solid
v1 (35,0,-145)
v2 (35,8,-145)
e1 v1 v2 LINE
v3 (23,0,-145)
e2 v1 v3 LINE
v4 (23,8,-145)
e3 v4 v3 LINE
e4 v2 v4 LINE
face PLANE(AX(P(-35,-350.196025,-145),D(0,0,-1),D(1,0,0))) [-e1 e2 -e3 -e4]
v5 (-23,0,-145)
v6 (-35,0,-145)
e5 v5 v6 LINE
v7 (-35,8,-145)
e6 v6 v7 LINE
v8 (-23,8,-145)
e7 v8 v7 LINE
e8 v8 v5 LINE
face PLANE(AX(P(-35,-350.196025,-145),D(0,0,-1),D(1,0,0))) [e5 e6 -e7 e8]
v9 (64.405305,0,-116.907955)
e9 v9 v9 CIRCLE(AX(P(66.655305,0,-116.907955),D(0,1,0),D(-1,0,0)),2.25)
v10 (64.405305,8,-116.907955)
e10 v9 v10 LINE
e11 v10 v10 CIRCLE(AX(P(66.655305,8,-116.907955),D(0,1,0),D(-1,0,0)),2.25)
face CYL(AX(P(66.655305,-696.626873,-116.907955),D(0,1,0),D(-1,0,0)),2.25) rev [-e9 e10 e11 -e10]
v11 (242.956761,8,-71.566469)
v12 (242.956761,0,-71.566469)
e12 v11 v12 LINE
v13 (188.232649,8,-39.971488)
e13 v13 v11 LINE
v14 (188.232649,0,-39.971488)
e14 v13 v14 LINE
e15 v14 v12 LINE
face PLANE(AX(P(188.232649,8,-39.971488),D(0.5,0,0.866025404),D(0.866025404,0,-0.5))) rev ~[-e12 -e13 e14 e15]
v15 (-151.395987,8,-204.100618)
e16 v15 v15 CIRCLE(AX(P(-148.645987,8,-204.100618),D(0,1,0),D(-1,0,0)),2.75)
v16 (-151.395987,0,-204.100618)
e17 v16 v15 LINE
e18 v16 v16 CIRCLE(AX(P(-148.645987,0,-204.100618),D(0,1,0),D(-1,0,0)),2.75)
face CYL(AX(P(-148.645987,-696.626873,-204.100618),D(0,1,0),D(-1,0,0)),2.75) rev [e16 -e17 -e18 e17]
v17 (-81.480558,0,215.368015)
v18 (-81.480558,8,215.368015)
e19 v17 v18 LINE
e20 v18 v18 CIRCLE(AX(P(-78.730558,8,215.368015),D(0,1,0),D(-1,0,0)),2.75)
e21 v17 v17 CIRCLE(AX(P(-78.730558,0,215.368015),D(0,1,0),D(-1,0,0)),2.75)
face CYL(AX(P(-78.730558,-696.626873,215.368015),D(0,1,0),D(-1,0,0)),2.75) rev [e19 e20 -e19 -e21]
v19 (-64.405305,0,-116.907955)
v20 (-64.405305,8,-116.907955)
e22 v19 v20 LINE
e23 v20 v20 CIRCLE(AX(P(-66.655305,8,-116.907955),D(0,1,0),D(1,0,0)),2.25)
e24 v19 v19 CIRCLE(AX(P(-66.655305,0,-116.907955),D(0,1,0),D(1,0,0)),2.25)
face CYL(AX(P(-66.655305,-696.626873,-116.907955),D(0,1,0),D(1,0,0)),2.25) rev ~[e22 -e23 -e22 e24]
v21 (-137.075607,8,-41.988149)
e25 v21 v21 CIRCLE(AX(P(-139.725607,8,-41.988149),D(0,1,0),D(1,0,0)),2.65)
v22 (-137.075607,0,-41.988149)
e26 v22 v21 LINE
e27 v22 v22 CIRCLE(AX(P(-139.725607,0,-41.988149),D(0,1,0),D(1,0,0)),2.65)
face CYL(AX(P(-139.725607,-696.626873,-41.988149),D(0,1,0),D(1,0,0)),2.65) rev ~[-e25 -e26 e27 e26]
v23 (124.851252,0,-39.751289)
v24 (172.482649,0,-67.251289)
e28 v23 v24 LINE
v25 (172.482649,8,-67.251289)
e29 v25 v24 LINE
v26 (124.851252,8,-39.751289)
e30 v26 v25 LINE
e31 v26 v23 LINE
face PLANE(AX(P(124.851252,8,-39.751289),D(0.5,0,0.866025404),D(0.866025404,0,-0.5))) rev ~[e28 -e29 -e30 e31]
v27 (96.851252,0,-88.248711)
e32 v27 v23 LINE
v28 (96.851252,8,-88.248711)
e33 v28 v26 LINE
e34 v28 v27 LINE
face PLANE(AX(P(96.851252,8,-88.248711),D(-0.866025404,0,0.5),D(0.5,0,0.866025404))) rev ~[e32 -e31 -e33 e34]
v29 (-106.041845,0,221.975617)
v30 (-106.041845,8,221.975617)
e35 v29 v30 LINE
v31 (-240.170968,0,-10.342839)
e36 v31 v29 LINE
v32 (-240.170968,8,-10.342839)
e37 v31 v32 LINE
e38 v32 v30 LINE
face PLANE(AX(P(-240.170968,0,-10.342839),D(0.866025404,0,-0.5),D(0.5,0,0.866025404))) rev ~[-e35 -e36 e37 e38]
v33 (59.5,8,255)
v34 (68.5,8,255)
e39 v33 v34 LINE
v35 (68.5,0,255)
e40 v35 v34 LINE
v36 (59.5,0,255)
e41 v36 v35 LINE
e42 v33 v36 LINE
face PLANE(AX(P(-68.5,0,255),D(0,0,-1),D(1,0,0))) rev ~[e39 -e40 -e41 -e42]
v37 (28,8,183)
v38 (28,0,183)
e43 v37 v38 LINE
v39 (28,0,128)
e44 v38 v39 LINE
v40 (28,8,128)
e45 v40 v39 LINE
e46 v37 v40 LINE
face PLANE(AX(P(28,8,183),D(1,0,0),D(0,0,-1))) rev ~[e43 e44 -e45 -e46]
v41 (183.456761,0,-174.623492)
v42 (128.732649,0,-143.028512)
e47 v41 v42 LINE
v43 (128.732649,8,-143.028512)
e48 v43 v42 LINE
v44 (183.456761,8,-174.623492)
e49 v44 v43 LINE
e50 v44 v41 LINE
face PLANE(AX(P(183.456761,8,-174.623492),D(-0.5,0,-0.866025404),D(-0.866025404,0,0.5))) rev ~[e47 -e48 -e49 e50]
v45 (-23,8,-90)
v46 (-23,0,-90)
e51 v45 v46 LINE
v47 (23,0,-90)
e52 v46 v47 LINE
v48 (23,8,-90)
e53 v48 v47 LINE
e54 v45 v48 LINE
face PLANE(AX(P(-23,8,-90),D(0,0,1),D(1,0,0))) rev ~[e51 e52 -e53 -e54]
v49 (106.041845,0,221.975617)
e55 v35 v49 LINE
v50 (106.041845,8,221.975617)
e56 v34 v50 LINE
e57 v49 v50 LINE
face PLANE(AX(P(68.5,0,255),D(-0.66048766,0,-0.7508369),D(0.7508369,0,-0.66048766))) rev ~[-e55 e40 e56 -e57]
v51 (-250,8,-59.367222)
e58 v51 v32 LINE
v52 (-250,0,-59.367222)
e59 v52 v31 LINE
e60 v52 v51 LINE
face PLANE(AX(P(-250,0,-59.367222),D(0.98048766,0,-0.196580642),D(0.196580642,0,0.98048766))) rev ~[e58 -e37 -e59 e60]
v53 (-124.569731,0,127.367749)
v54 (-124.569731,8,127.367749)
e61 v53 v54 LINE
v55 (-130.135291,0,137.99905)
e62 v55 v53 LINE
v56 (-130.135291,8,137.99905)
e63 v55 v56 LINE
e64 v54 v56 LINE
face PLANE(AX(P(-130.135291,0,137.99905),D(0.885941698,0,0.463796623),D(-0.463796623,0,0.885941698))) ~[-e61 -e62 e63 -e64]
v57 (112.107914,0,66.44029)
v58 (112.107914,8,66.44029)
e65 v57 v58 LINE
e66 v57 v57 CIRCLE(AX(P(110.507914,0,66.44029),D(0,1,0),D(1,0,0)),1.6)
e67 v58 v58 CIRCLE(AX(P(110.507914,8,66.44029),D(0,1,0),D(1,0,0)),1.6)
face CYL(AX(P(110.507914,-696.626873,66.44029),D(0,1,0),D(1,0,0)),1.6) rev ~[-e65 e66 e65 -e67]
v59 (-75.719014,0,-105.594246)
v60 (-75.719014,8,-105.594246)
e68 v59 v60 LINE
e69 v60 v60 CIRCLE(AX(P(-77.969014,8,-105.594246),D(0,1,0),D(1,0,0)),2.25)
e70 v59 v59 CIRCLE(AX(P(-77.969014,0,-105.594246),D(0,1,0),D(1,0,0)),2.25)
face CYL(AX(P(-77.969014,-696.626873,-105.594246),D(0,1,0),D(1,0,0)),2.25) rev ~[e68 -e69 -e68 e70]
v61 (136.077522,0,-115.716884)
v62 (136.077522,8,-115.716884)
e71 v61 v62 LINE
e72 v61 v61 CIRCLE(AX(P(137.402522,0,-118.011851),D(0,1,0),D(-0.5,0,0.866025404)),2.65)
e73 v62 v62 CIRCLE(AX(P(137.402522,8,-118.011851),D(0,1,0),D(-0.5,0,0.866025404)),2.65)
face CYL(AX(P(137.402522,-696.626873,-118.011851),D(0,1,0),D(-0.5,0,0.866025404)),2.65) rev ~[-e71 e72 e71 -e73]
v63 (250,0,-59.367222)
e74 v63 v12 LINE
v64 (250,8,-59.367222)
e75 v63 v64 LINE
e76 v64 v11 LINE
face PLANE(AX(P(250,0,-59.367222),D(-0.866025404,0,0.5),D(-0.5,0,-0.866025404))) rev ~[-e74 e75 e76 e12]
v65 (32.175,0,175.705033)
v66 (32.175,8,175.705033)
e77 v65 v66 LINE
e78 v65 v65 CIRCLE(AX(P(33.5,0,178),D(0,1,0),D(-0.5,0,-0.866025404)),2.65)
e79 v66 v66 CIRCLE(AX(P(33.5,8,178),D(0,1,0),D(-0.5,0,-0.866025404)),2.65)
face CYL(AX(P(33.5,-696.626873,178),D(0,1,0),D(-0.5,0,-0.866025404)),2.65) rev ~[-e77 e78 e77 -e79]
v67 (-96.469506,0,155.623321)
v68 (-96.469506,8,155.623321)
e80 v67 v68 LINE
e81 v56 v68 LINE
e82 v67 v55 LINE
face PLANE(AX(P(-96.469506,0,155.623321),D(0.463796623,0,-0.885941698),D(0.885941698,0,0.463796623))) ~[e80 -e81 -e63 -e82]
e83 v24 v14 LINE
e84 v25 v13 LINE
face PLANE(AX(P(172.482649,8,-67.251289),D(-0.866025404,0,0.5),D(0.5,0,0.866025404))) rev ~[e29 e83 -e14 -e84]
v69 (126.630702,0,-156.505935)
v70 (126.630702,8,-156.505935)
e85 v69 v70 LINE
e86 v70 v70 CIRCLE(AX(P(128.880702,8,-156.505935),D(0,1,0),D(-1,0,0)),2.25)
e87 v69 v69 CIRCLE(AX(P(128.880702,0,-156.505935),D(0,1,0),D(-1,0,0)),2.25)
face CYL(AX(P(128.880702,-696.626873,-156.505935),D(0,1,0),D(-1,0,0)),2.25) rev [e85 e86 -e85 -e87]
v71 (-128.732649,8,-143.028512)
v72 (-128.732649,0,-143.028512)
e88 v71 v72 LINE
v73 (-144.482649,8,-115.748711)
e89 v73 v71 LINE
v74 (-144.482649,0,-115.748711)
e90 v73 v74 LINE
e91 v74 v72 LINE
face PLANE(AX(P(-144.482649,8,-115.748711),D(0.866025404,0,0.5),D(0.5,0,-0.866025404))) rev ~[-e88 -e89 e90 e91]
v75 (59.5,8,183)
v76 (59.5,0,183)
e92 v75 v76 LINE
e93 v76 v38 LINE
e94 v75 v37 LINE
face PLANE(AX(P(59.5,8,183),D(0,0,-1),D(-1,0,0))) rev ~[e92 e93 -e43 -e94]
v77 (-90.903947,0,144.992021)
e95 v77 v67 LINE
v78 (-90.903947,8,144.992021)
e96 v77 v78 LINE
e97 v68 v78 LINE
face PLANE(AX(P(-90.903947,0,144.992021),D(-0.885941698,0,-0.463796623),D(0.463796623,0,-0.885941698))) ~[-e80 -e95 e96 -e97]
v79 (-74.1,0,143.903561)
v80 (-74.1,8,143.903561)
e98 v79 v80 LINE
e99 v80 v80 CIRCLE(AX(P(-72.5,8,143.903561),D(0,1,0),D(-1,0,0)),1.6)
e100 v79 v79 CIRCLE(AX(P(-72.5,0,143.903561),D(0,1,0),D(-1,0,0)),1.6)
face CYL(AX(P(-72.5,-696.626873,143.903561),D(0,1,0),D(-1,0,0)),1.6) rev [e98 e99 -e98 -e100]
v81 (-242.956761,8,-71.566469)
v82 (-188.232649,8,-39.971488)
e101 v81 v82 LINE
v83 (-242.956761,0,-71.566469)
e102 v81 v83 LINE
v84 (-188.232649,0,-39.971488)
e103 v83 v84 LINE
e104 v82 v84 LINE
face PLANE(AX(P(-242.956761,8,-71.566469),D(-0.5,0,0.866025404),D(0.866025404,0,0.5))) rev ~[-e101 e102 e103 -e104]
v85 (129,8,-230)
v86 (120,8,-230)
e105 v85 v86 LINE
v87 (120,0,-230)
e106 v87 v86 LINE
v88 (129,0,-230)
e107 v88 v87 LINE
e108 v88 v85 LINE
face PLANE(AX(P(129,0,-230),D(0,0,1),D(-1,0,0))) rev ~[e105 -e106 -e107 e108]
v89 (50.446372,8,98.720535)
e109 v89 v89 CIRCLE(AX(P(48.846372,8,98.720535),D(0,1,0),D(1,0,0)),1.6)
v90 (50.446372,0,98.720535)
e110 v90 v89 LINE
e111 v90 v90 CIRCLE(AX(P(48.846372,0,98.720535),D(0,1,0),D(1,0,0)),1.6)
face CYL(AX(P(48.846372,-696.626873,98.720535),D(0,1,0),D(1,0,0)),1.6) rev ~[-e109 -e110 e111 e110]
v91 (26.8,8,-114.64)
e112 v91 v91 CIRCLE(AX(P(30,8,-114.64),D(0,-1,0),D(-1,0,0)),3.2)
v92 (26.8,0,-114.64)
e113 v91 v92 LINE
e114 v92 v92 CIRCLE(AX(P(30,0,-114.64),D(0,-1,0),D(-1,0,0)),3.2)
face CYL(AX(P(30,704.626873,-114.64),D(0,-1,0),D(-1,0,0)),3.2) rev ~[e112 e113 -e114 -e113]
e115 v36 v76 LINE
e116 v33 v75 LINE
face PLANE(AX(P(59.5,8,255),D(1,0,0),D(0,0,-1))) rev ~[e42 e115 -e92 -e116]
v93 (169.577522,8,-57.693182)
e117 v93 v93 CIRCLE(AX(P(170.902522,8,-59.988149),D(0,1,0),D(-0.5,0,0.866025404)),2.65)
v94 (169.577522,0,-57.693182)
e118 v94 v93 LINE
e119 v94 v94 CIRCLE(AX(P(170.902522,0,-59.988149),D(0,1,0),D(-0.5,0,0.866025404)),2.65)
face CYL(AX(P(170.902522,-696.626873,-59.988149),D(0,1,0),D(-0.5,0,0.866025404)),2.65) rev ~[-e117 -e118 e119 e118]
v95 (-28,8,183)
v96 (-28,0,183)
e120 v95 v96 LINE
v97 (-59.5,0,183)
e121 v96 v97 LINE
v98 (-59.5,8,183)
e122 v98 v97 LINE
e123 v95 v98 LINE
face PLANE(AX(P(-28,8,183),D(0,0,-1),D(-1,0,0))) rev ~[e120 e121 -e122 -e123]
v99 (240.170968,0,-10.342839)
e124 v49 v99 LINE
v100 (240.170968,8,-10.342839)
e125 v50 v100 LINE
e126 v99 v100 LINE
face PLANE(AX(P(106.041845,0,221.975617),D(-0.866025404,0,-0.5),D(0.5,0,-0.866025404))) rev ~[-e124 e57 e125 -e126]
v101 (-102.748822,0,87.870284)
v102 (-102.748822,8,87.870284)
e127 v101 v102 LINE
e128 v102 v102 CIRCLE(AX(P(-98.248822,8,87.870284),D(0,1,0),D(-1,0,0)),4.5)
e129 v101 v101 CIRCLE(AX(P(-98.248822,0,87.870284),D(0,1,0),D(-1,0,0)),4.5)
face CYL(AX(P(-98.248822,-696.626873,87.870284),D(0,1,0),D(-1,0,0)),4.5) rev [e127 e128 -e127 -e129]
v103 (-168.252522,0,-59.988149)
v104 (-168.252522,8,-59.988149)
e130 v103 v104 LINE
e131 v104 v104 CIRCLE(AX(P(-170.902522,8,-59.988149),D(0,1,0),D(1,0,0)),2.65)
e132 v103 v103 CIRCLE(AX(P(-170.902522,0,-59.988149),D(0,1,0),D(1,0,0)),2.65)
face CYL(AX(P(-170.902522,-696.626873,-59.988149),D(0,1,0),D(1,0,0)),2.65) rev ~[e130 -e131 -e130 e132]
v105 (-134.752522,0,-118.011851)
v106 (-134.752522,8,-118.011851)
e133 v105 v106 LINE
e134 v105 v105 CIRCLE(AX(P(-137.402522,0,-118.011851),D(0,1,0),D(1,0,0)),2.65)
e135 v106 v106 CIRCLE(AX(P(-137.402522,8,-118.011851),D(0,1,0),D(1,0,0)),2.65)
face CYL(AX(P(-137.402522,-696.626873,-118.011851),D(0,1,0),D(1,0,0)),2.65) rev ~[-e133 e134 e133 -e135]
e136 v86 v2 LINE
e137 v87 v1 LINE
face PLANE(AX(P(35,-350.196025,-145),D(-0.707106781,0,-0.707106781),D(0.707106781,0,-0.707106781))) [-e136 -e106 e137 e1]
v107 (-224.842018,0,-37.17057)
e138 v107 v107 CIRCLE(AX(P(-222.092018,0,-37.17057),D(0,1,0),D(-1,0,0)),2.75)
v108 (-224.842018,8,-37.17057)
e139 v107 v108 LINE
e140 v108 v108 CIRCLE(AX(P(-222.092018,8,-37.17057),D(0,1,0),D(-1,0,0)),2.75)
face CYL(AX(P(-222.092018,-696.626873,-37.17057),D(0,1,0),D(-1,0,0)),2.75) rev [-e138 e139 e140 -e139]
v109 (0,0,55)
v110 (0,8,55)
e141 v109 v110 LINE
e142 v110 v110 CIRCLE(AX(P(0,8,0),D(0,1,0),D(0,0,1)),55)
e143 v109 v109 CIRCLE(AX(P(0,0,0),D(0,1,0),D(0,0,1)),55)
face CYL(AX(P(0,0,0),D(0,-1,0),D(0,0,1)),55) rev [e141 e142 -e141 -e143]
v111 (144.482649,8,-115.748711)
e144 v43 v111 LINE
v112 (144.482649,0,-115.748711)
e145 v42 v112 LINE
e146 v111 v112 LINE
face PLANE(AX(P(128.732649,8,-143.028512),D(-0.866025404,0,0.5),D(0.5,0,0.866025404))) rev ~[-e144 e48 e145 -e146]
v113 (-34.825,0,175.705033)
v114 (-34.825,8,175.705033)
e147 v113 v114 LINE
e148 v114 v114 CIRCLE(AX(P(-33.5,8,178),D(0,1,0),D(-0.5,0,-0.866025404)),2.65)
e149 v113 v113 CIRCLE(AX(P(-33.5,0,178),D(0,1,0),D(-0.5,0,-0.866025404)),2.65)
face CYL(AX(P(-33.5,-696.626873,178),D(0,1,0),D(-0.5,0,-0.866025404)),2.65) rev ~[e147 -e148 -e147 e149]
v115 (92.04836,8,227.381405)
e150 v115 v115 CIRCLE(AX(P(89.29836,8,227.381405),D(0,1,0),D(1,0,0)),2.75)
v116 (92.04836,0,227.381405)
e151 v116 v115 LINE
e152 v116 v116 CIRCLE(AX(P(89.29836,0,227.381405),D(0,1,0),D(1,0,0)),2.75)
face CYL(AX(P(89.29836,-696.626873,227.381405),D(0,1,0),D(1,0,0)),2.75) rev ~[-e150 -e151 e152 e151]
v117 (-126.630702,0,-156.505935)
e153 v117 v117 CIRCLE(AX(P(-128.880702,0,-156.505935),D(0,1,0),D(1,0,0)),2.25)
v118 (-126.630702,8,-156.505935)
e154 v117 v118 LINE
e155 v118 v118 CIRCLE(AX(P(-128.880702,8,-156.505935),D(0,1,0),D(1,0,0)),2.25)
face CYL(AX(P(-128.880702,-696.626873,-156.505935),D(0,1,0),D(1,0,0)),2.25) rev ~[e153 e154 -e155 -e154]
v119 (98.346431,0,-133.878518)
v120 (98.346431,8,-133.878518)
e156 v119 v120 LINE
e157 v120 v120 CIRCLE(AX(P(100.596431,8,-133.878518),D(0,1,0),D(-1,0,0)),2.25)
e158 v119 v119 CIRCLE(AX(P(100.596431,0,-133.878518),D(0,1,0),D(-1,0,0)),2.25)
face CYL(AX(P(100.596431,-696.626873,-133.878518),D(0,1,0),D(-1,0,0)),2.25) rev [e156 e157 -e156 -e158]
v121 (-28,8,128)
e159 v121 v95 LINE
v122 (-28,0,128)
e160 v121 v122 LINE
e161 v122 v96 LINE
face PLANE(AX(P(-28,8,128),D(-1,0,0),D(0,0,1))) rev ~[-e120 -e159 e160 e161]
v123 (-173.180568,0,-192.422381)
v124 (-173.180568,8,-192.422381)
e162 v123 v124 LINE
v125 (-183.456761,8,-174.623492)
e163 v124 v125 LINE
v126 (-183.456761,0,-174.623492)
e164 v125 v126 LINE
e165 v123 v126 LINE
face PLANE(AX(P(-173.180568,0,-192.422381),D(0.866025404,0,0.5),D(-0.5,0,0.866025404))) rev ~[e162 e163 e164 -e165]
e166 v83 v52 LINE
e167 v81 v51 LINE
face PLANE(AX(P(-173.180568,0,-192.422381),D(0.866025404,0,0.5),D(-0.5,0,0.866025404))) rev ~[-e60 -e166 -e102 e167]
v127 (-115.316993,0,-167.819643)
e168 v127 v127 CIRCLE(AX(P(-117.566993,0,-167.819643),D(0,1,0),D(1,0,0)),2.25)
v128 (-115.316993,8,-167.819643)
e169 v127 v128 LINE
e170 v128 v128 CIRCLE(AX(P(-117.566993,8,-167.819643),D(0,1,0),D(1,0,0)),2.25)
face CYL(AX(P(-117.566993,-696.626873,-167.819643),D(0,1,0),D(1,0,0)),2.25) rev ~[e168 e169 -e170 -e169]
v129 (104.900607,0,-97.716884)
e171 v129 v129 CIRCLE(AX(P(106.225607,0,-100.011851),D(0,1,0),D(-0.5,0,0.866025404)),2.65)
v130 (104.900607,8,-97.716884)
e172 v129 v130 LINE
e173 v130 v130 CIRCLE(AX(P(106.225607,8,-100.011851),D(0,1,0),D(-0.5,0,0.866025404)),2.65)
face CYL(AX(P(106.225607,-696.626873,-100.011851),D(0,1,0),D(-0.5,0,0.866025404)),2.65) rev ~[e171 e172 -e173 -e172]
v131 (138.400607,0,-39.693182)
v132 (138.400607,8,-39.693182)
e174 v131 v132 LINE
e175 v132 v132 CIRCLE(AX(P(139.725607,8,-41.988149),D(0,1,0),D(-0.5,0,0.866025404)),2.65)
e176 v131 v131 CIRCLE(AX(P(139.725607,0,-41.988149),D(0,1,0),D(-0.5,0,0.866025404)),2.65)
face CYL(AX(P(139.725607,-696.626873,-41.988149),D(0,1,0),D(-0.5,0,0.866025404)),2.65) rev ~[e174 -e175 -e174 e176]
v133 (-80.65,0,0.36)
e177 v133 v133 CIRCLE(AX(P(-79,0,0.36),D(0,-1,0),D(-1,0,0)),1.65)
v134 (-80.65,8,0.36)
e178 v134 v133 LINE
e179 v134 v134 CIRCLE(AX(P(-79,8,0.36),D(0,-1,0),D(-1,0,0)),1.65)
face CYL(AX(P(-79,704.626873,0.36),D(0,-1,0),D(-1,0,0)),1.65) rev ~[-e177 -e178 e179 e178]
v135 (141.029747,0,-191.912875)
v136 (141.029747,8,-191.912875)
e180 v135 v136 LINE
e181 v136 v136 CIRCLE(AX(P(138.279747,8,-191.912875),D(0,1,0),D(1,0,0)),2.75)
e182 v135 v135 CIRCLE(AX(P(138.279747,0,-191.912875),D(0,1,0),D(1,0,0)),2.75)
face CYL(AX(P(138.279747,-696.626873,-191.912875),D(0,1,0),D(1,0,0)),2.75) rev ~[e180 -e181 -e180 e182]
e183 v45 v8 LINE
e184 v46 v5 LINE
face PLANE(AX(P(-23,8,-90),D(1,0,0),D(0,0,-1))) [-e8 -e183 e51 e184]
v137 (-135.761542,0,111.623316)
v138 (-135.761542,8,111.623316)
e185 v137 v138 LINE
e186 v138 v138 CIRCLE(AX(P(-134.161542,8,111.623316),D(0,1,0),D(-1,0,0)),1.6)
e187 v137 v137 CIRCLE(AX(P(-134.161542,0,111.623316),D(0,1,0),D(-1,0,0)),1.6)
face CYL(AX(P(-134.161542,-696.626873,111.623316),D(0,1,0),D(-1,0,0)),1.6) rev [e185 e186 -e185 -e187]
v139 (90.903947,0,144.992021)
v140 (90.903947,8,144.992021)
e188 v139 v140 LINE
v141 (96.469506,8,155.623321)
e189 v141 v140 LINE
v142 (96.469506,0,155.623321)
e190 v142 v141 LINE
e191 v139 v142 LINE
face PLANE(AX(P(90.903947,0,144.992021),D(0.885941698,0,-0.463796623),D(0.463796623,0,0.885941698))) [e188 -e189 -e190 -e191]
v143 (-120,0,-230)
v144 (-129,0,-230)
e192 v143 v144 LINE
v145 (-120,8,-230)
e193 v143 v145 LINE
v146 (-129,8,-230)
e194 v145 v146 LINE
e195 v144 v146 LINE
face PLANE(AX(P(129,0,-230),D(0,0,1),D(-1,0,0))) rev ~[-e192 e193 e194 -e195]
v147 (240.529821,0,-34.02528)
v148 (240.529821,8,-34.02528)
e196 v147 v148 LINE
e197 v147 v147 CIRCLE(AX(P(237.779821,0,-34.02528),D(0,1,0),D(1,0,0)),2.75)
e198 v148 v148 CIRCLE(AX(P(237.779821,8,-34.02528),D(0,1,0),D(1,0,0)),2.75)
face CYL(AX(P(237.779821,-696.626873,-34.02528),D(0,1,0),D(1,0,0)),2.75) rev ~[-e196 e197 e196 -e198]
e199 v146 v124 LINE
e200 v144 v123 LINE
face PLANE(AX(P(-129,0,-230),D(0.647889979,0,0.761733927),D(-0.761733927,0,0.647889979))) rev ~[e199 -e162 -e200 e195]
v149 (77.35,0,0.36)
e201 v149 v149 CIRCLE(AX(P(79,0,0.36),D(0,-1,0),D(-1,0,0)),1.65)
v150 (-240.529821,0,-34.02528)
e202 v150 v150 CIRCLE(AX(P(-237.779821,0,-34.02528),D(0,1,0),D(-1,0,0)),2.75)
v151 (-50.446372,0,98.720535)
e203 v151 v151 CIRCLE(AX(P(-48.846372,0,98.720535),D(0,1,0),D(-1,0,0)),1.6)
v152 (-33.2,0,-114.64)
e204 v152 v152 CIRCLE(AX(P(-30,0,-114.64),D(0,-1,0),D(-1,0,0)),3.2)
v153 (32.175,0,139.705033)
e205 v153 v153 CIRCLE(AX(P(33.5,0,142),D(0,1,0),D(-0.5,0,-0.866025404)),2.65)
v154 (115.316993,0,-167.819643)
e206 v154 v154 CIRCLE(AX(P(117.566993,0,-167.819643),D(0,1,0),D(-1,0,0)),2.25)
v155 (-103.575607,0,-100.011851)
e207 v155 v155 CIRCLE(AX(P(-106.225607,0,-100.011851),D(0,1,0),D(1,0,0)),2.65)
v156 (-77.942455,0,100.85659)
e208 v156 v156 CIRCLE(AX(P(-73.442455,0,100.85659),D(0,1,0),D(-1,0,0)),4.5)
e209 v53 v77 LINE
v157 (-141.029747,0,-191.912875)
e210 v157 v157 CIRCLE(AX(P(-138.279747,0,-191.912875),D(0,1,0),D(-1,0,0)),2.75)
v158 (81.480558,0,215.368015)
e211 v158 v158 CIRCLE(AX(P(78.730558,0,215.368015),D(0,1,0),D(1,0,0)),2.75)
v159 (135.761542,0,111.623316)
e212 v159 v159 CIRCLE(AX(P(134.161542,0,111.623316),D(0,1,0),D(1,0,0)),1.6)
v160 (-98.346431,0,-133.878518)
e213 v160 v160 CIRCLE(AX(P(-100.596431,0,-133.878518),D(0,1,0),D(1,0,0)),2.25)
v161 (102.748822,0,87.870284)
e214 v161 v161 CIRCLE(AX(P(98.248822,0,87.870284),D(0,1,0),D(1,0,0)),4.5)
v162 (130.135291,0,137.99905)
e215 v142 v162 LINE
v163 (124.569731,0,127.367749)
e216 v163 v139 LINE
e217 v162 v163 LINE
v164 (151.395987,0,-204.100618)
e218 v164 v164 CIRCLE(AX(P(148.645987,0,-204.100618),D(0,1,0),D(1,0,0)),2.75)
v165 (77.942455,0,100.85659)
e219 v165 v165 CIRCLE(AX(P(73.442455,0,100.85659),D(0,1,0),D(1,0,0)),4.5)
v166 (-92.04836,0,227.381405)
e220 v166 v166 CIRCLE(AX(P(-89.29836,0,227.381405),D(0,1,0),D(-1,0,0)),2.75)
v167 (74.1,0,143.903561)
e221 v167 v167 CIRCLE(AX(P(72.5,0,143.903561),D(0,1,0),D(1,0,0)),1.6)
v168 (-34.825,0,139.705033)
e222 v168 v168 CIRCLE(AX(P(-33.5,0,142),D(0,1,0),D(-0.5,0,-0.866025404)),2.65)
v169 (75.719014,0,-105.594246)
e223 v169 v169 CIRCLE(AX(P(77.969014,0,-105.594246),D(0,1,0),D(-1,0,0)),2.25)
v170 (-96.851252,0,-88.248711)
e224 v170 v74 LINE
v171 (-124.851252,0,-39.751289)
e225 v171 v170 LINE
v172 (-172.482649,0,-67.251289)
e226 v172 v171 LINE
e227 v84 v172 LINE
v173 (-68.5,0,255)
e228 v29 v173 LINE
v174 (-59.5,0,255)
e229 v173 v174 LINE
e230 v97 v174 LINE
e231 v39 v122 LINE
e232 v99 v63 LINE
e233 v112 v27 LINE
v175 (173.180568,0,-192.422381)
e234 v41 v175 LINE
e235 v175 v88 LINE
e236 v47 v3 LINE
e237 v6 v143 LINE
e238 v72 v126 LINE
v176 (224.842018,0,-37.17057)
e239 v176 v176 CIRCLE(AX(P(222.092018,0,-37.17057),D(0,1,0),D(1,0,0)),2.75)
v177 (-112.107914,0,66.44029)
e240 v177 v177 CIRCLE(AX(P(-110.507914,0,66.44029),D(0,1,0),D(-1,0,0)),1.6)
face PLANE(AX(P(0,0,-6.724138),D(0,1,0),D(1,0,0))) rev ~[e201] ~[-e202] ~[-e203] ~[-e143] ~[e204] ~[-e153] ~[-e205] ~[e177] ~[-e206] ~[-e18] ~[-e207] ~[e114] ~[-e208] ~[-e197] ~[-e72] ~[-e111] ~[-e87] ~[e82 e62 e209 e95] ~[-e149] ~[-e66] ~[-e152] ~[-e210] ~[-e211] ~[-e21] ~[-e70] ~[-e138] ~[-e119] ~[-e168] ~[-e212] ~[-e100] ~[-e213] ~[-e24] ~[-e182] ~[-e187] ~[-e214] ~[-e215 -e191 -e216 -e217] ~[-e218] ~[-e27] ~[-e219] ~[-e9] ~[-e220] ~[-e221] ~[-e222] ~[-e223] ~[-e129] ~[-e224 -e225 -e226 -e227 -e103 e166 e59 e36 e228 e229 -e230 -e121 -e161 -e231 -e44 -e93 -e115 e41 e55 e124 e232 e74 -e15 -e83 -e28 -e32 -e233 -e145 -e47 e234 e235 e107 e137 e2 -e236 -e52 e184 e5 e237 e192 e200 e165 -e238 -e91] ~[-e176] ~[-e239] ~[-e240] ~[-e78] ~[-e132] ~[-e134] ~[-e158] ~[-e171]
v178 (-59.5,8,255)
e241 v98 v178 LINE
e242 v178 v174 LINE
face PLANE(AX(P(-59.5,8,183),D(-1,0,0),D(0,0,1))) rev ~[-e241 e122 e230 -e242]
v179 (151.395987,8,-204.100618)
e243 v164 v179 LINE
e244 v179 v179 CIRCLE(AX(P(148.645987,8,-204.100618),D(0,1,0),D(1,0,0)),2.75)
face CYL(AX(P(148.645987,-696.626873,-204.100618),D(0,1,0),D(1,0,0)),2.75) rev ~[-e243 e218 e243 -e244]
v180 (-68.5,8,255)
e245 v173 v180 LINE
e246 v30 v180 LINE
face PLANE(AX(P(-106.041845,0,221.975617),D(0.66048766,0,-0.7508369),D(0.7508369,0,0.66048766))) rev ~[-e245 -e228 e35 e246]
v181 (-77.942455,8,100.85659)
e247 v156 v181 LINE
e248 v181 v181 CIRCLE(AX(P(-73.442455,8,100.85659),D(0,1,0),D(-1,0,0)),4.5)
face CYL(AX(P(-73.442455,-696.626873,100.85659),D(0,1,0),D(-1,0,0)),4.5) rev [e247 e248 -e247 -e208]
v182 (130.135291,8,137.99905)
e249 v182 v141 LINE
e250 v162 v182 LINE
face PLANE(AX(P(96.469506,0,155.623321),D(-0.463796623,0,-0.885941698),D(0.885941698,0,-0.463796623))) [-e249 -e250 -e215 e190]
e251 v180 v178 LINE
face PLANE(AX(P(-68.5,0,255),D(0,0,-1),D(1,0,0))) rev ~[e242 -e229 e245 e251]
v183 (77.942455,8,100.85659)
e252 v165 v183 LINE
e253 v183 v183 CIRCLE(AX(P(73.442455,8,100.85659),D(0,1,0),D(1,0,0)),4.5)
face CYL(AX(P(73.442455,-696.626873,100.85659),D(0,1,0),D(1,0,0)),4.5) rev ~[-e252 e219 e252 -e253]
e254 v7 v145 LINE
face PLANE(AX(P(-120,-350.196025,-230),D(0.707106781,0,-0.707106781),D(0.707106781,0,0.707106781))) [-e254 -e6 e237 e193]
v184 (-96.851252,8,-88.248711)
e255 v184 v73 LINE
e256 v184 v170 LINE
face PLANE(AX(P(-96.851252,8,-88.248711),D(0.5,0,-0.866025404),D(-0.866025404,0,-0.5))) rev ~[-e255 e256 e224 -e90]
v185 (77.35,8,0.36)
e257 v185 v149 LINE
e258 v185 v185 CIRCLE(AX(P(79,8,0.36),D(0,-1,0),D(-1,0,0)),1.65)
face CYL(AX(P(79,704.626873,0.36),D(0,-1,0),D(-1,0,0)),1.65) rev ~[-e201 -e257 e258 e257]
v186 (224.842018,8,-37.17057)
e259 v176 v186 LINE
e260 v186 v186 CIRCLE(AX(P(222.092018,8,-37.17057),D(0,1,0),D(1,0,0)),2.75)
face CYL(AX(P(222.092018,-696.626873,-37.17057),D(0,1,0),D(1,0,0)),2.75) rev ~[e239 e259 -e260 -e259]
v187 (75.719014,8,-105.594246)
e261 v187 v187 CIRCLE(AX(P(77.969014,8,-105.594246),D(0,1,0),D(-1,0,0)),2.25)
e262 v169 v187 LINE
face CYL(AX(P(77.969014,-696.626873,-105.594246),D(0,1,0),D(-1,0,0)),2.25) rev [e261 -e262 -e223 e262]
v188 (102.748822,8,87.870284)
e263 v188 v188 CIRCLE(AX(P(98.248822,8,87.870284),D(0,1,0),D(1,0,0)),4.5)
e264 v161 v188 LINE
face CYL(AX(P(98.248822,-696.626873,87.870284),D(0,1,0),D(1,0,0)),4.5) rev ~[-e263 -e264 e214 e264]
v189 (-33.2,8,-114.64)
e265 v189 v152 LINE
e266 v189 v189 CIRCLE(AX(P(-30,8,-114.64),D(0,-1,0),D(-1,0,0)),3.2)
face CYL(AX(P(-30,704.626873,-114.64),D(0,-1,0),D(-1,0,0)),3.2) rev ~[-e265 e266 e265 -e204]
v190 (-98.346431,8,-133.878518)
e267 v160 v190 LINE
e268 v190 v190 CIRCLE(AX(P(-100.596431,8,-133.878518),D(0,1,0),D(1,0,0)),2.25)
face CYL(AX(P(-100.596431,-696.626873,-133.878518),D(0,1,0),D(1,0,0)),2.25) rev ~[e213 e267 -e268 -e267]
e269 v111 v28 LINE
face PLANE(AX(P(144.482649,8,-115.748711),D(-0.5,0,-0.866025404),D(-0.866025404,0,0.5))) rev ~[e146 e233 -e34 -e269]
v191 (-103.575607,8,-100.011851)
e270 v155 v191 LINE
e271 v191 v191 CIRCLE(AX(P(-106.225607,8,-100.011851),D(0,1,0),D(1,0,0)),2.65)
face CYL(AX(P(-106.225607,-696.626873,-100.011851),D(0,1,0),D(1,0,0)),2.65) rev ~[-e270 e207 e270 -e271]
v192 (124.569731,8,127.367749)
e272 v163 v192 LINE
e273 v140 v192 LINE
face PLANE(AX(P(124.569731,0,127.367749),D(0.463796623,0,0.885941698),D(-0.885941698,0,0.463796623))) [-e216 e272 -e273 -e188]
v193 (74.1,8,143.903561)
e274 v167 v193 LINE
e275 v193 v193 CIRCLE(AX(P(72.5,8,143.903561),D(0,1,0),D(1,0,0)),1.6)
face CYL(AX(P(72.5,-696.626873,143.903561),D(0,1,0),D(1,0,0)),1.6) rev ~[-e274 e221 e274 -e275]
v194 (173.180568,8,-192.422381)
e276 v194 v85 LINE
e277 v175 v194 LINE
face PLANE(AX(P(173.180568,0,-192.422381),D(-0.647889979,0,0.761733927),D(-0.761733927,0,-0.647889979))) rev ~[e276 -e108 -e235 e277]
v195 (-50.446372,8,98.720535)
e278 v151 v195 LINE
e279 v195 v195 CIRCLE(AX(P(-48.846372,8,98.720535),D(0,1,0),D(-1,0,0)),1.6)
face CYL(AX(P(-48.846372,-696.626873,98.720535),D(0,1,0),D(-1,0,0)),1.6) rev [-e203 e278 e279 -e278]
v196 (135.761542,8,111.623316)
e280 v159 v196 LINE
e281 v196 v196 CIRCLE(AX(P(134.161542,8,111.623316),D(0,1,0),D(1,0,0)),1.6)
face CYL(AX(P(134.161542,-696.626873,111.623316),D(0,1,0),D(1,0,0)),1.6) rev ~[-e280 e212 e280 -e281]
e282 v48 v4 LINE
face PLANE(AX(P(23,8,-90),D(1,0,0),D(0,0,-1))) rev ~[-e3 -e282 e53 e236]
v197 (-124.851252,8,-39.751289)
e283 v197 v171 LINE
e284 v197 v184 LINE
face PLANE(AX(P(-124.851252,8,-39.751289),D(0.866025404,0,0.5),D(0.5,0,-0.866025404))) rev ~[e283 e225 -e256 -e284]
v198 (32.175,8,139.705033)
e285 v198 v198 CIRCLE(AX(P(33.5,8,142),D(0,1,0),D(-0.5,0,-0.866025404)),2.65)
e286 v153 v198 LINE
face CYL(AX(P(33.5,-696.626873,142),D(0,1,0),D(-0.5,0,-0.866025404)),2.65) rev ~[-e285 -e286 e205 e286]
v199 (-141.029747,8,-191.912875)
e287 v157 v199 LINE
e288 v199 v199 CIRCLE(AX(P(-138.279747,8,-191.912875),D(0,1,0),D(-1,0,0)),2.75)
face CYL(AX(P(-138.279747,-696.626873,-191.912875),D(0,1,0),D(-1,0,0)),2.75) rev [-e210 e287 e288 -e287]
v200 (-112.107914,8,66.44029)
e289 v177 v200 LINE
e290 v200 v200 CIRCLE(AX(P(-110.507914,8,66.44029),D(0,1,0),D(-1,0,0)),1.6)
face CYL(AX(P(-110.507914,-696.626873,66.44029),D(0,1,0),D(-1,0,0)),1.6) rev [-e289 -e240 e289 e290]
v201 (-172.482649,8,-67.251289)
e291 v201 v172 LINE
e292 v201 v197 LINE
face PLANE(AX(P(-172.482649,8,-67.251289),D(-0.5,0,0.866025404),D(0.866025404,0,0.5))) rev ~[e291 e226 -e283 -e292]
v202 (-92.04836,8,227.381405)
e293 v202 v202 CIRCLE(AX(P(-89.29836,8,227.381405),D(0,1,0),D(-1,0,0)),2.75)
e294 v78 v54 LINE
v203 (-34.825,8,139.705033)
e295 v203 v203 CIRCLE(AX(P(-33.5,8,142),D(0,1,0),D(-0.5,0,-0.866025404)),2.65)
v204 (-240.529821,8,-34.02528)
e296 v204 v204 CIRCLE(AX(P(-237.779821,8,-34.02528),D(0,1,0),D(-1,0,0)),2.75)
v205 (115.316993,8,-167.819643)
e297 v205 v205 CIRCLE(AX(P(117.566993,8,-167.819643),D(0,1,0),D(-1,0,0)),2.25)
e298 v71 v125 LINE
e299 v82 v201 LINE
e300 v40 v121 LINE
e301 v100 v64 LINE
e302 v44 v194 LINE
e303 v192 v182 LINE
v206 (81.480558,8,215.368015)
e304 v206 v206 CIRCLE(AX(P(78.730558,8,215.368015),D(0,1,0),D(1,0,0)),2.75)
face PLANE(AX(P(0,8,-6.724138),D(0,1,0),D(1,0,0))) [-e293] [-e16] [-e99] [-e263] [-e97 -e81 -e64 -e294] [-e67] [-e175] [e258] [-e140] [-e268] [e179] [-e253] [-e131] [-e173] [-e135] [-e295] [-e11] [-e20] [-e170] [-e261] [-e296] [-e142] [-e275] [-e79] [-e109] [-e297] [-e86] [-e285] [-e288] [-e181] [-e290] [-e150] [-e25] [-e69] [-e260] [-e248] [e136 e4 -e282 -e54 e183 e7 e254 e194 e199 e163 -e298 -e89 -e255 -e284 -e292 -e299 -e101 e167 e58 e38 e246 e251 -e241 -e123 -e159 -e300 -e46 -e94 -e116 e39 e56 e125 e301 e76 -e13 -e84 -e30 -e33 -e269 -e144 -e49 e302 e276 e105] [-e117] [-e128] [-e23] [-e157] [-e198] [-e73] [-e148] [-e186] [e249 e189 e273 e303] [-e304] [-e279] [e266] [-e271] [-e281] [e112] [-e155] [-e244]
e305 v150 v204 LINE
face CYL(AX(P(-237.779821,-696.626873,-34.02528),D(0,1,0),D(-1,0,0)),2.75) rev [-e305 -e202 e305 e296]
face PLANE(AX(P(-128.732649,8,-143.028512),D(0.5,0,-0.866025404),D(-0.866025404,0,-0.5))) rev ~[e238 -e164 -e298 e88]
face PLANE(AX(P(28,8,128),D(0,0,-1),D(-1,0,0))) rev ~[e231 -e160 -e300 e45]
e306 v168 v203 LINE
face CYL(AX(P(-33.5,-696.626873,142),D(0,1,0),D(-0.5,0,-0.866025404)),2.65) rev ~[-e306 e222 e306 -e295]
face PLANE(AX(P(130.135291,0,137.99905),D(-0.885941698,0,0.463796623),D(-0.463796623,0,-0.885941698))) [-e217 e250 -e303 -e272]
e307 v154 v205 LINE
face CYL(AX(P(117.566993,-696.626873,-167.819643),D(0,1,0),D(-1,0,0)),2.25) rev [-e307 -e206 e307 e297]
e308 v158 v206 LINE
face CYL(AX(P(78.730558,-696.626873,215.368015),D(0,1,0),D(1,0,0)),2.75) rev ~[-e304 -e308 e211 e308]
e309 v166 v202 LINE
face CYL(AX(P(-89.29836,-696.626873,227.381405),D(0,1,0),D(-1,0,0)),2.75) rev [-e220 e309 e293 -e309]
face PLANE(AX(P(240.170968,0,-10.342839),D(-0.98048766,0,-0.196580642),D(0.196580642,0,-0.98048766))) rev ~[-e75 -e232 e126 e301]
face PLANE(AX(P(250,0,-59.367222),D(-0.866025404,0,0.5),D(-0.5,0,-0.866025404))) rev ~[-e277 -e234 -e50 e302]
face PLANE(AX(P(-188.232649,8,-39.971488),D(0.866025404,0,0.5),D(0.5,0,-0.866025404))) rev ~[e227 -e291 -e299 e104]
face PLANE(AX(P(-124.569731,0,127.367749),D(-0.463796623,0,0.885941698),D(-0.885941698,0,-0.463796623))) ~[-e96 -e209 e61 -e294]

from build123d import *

# Parameters (mm, degrees)
SKETCH_1_R               = 55
EXTRUDE_1_DEPTH          = 8
CUT_EXTRUDE_7_DEPTH      = 358.196024614
HOLE_WIZARD_M5_1_D       = 5.3
PATTERN_CIRCULAR_5_COUNT = 3
CUT_EXTRUDE_2_DEPTH      = 358.196024614
CUT_EXTRUDE_2_DEPTH_BACK = 358.196024614
SKETCH_7_W               = 46
SKETCH_7_H               = 140
CUT_EXTRUDE_4_DEPTH      = 358.196024614
HOLE_WIZARD_M6_1_D       = 6.4
HOLE_WIZARD_M4_1_D       = 3.3
HOLE_WIZARD_M3_1_D       = 3.2
HOLE_WIZARD_9_0_9_1_D    = 9
CUT_EXTRUDE_6_DEPTH      = 10
HOLE_WIZARD_M5_3_D       = 5.5
HOLE_WIZARD_M4_1_2_D     = 4.5


with BuildPart() as part:
    # 草图1 → 凸台-拉伸1 (new body)
    with BuildSketch(Plane(origin=(0, 0, 0), x_dir=(1, 0, 0), z_dir=(0, 1, 0))):
        Polygon((-173.180567757, 192.422381227), (-250, 59.367221574), (-240.170967896, 10.34283858), (-106.041845025, -221.975617006), (-68.5, -255), (68.5, -255), (106.041845025, -221.975617006), (240.170967896, 10.34283858), (250, 59.367221574), (173.180567757, 192.422381227), (129, 230), (-129, 230), align=None)
        with Locations(Location((0, 0, 0), (0, 0, 270))):
            Circle(SKETCH_1_R, mode=Mode.SUBTRACT)
    extrude(amount=EXTRUDE_1_DEPTH)

    # 草图34 → 切除-拉伸7 (cut, through all)
    with BuildSketch(Plane(origin=(0, 8, 0), x_dir=(1, 0, 0), z_dir=(0, 1, 0))):
        Polygon((-144.482648893, 115.748711306), (-128.732648893, 143.028511525), (-183.456761017, 174.623492392), (-242.956761017, 71.566469341), (-188.232648893, 39.971488475), (-172.482648893, 67.251288694), (-124.851251684, 39.751288694), (-96.851251684, 88.248711306), align=None)
        Polygon((172.482648893, 67.251288694), (188.232648893, 39.971488475), (242.956761017, 71.566469341), (183.456761017, 174.623492392), (128.732648893, 143.028511525), (144.482648893, 115.748711306), (96.851251684, 88.248711306), (124.851251684, 39.751288694), align=None)
        Polygon((-28, -183), (-59.5, -183), (-59.5, -255), (59.5, -255), (59.5, -183), (28, -183), (28, -128), (-28, -128), align=None)
    extrude(amount=-CUT_EXTRUDE_7_DEPTH, mode=Mode.SUBTRACT)

    # M5 间隙孔1 (through all)
    with Locations(Plane(origin=(0, 0, 0), x_dir=(-1, 0, 0), z_dir=(0, -1, 0))):
        with Locations((106.225607337, 100.011851027), (137.402521874, 118.011851027), (139.725607337, 41.988148973), (170.902521874, 59.988148973)):
            hole_wizard_m5_1 = Hole(HOLE_WIZARD_M5_1_D / 2)

    # 阵列(圆周)5: M5 间隙孔1 ×3 about axis
    pattern_circular_5_axis = Axis((0, 0, 0), (0, 1, 0))
    for i in range(1, PATTERN_CIRCULAR_5_COUNT):
        add(hole_wizard_m5_1.rotate(pattern_circular_5_axis, i * 360 / PATTERN_CIRCULAR_5_COUNT), mode=Mode.SUBTRACT)

    # 草图5 → 切除-拉伸2 (cut, two sides: drawn at the far end of the back side and taken through both)
    with BuildSketch(Plane(origin=(0, 8, 0), x_dir=(1, 0, 0), z_dir=(0, 1, 0)).offset(-CUT_EXTRUDE_2_DEPTH_BACK)):
        Polygon((35, 145), (120, 230), (-120, 230), (-35, 145), align=None)
    extrude(amount=CUT_EXTRUDE_2_DEPTH + CUT_EXTRUDE_2_DEPTH_BACK, mode=Mode.SUBTRACT)

    # 草图7 → 切除-拉伸4 (cut, through all)
    with BuildSketch(Plane(origin=(0, 8, 0), x_dir=(1, 0, 0), z_dir=(0, 1, 0))):
        with Locations((0, 160)):
            Rectangle(SKETCH_7_W, SKETCH_7_H)
    extrude(amount=-CUT_EXTRUDE_4_DEPTH, mode=Mode.SUBTRACT)

    # M6 间隙孔1 (through all)
    with Locations(Plane(origin=(0, 8, 0), x_dir=(1, 0, 0), z_dir=(0, 1, 0))):
        with Locations((30, 114.64), (-30, 114.64)):
            Hole(HOLE_WIZARD_M6_1_D / 2)

    # Hole Wizard M4 _1 (through all)
    with Locations(Plane(origin=(0, 8, 0), x_dir=(1, 0, 0), z_dir=(0, 1, 0))):
        with Locations((-79, -0.36), (79, -0.36)):
            Hole(HOLE_WIZARD_M4_1_D / 2)

    # 电池座 M3 间隙孔1 (through all)
    with Locations(Plane(origin=(0, 0, 0), x_dir=(-1, 0, 0), z_dir=(0, -1, 0))):
        with Locations((-110.507914412, -66.440289893), (-72.5, -143.903561461), (-134.161542188, -111.623316496), (-48.846372224, -98.720534858)):
            hole_wizard_m3_1 = Hole(HOLE_WIZARD_M3_1_D / 2)

    # Ø9.0 (9) 直径孔1 (through all)
    with Locations(Plane(origin=(0, 0, 0), x_dir=(-1, 0, 0), z_dir=(0, -1, 0))):
        with Locations((-98.248822178, -87.870284237), (-73.442454631, -100.856589683)):
            hole_wizard_9_0_9_1 = Hole(HOLE_WIZARD_9_0_9_1_D / 2)

    # 草图21 → 切除-拉伸6 (cut)
    with BuildSketch(Plane.XZ):
        Polygon((90.903946749, 144.992020949), (96.469506226, 155.623321326), (130.135290754, 137.99904965), (124.569731277, 127.367749272), align=None)
    cut_extrude_6 = extrude(amount=-CUT_EXTRUDE_6_DEPTH, mode=Mode.SUBTRACT)

    # 镜向1: 电池座 M3 间隙孔1, Ø9.0 (9) 直径孔1, 切除-拉伸6 across plane
    add(hole_wizard_m3_1.mirror(Plane(origin=(0, 0, 0), x_dir=(0, 0, 1), z_dir=(1, 0, 0))), mode=Mode.SUBTRACT)
    add(hole_wizard_9_0_9_1.mirror(Plane(origin=(0, 0, 0), x_dir=(0, 0, 1), z_dir=(1, 0, 0))), mode=Mode.SUBTRACT)
    add(cut_extrude_6.mirror(Plane(origin=(0, 0, 0), x_dir=(0, 0, 1), z_dir=(1, 0, 0))), mode=Mode.SUBTRACT)

    # 立柱 M5 间隙孔3 (through all)
    with Locations(Plane(origin=(0, 0, 0), x_dir=(-1, 0, 0), z_dir=(0, -1, 0))):
        with Locations((-237.779820534, 34.02527989), (-222.092017976, 37.170570164), (-138.279747165, 191.912875123), (-148.645986827, 204.100617953), (-89.298360296, -227.381404927), (-78.730557738, -215.368014518)):
            hole_wizard_m5_3 = Hole(HOLE_WIZARD_M5_3_D / 2)

    # 镜向4: 立柱 M5 间隙孔3 across plane
    add(hole_wizard_m5_3.mirror(Plane(origin=(0, 0, 0), x_dir=(0, 0, 1), z_dir=(1, 0, 0))), mode=Mode.SUBTRACT)

    # Hole Wizard M4 _1 2 (through all)
    with Locations(Plane(origin=(0, 0, 0), x_dir=(-1, 0, 0), z_dir=(0, -1, 0))):
        with Locations((128.880701979, 156.505934529), (117.56699348, 167.819643028), (66.655305235, 116.907954782), (77.969013734, 105.594246284), (100.596430732, 133.878517531)):
            hole_wizard_m4_1_2 = Hole(HOLE_WIZARD_M4_1_2_D / 2)

    # 镜向5: Hole Wizard M4 _1 2 across plane
    add(hole_wizard_m4_1_2.mirror(Plane(origin=(0, 0, 0), x_dir=(0, 0, 1), z_dir=(1, 0, 0))), mode=Mode.SUBTRACT)


solid = part.part
